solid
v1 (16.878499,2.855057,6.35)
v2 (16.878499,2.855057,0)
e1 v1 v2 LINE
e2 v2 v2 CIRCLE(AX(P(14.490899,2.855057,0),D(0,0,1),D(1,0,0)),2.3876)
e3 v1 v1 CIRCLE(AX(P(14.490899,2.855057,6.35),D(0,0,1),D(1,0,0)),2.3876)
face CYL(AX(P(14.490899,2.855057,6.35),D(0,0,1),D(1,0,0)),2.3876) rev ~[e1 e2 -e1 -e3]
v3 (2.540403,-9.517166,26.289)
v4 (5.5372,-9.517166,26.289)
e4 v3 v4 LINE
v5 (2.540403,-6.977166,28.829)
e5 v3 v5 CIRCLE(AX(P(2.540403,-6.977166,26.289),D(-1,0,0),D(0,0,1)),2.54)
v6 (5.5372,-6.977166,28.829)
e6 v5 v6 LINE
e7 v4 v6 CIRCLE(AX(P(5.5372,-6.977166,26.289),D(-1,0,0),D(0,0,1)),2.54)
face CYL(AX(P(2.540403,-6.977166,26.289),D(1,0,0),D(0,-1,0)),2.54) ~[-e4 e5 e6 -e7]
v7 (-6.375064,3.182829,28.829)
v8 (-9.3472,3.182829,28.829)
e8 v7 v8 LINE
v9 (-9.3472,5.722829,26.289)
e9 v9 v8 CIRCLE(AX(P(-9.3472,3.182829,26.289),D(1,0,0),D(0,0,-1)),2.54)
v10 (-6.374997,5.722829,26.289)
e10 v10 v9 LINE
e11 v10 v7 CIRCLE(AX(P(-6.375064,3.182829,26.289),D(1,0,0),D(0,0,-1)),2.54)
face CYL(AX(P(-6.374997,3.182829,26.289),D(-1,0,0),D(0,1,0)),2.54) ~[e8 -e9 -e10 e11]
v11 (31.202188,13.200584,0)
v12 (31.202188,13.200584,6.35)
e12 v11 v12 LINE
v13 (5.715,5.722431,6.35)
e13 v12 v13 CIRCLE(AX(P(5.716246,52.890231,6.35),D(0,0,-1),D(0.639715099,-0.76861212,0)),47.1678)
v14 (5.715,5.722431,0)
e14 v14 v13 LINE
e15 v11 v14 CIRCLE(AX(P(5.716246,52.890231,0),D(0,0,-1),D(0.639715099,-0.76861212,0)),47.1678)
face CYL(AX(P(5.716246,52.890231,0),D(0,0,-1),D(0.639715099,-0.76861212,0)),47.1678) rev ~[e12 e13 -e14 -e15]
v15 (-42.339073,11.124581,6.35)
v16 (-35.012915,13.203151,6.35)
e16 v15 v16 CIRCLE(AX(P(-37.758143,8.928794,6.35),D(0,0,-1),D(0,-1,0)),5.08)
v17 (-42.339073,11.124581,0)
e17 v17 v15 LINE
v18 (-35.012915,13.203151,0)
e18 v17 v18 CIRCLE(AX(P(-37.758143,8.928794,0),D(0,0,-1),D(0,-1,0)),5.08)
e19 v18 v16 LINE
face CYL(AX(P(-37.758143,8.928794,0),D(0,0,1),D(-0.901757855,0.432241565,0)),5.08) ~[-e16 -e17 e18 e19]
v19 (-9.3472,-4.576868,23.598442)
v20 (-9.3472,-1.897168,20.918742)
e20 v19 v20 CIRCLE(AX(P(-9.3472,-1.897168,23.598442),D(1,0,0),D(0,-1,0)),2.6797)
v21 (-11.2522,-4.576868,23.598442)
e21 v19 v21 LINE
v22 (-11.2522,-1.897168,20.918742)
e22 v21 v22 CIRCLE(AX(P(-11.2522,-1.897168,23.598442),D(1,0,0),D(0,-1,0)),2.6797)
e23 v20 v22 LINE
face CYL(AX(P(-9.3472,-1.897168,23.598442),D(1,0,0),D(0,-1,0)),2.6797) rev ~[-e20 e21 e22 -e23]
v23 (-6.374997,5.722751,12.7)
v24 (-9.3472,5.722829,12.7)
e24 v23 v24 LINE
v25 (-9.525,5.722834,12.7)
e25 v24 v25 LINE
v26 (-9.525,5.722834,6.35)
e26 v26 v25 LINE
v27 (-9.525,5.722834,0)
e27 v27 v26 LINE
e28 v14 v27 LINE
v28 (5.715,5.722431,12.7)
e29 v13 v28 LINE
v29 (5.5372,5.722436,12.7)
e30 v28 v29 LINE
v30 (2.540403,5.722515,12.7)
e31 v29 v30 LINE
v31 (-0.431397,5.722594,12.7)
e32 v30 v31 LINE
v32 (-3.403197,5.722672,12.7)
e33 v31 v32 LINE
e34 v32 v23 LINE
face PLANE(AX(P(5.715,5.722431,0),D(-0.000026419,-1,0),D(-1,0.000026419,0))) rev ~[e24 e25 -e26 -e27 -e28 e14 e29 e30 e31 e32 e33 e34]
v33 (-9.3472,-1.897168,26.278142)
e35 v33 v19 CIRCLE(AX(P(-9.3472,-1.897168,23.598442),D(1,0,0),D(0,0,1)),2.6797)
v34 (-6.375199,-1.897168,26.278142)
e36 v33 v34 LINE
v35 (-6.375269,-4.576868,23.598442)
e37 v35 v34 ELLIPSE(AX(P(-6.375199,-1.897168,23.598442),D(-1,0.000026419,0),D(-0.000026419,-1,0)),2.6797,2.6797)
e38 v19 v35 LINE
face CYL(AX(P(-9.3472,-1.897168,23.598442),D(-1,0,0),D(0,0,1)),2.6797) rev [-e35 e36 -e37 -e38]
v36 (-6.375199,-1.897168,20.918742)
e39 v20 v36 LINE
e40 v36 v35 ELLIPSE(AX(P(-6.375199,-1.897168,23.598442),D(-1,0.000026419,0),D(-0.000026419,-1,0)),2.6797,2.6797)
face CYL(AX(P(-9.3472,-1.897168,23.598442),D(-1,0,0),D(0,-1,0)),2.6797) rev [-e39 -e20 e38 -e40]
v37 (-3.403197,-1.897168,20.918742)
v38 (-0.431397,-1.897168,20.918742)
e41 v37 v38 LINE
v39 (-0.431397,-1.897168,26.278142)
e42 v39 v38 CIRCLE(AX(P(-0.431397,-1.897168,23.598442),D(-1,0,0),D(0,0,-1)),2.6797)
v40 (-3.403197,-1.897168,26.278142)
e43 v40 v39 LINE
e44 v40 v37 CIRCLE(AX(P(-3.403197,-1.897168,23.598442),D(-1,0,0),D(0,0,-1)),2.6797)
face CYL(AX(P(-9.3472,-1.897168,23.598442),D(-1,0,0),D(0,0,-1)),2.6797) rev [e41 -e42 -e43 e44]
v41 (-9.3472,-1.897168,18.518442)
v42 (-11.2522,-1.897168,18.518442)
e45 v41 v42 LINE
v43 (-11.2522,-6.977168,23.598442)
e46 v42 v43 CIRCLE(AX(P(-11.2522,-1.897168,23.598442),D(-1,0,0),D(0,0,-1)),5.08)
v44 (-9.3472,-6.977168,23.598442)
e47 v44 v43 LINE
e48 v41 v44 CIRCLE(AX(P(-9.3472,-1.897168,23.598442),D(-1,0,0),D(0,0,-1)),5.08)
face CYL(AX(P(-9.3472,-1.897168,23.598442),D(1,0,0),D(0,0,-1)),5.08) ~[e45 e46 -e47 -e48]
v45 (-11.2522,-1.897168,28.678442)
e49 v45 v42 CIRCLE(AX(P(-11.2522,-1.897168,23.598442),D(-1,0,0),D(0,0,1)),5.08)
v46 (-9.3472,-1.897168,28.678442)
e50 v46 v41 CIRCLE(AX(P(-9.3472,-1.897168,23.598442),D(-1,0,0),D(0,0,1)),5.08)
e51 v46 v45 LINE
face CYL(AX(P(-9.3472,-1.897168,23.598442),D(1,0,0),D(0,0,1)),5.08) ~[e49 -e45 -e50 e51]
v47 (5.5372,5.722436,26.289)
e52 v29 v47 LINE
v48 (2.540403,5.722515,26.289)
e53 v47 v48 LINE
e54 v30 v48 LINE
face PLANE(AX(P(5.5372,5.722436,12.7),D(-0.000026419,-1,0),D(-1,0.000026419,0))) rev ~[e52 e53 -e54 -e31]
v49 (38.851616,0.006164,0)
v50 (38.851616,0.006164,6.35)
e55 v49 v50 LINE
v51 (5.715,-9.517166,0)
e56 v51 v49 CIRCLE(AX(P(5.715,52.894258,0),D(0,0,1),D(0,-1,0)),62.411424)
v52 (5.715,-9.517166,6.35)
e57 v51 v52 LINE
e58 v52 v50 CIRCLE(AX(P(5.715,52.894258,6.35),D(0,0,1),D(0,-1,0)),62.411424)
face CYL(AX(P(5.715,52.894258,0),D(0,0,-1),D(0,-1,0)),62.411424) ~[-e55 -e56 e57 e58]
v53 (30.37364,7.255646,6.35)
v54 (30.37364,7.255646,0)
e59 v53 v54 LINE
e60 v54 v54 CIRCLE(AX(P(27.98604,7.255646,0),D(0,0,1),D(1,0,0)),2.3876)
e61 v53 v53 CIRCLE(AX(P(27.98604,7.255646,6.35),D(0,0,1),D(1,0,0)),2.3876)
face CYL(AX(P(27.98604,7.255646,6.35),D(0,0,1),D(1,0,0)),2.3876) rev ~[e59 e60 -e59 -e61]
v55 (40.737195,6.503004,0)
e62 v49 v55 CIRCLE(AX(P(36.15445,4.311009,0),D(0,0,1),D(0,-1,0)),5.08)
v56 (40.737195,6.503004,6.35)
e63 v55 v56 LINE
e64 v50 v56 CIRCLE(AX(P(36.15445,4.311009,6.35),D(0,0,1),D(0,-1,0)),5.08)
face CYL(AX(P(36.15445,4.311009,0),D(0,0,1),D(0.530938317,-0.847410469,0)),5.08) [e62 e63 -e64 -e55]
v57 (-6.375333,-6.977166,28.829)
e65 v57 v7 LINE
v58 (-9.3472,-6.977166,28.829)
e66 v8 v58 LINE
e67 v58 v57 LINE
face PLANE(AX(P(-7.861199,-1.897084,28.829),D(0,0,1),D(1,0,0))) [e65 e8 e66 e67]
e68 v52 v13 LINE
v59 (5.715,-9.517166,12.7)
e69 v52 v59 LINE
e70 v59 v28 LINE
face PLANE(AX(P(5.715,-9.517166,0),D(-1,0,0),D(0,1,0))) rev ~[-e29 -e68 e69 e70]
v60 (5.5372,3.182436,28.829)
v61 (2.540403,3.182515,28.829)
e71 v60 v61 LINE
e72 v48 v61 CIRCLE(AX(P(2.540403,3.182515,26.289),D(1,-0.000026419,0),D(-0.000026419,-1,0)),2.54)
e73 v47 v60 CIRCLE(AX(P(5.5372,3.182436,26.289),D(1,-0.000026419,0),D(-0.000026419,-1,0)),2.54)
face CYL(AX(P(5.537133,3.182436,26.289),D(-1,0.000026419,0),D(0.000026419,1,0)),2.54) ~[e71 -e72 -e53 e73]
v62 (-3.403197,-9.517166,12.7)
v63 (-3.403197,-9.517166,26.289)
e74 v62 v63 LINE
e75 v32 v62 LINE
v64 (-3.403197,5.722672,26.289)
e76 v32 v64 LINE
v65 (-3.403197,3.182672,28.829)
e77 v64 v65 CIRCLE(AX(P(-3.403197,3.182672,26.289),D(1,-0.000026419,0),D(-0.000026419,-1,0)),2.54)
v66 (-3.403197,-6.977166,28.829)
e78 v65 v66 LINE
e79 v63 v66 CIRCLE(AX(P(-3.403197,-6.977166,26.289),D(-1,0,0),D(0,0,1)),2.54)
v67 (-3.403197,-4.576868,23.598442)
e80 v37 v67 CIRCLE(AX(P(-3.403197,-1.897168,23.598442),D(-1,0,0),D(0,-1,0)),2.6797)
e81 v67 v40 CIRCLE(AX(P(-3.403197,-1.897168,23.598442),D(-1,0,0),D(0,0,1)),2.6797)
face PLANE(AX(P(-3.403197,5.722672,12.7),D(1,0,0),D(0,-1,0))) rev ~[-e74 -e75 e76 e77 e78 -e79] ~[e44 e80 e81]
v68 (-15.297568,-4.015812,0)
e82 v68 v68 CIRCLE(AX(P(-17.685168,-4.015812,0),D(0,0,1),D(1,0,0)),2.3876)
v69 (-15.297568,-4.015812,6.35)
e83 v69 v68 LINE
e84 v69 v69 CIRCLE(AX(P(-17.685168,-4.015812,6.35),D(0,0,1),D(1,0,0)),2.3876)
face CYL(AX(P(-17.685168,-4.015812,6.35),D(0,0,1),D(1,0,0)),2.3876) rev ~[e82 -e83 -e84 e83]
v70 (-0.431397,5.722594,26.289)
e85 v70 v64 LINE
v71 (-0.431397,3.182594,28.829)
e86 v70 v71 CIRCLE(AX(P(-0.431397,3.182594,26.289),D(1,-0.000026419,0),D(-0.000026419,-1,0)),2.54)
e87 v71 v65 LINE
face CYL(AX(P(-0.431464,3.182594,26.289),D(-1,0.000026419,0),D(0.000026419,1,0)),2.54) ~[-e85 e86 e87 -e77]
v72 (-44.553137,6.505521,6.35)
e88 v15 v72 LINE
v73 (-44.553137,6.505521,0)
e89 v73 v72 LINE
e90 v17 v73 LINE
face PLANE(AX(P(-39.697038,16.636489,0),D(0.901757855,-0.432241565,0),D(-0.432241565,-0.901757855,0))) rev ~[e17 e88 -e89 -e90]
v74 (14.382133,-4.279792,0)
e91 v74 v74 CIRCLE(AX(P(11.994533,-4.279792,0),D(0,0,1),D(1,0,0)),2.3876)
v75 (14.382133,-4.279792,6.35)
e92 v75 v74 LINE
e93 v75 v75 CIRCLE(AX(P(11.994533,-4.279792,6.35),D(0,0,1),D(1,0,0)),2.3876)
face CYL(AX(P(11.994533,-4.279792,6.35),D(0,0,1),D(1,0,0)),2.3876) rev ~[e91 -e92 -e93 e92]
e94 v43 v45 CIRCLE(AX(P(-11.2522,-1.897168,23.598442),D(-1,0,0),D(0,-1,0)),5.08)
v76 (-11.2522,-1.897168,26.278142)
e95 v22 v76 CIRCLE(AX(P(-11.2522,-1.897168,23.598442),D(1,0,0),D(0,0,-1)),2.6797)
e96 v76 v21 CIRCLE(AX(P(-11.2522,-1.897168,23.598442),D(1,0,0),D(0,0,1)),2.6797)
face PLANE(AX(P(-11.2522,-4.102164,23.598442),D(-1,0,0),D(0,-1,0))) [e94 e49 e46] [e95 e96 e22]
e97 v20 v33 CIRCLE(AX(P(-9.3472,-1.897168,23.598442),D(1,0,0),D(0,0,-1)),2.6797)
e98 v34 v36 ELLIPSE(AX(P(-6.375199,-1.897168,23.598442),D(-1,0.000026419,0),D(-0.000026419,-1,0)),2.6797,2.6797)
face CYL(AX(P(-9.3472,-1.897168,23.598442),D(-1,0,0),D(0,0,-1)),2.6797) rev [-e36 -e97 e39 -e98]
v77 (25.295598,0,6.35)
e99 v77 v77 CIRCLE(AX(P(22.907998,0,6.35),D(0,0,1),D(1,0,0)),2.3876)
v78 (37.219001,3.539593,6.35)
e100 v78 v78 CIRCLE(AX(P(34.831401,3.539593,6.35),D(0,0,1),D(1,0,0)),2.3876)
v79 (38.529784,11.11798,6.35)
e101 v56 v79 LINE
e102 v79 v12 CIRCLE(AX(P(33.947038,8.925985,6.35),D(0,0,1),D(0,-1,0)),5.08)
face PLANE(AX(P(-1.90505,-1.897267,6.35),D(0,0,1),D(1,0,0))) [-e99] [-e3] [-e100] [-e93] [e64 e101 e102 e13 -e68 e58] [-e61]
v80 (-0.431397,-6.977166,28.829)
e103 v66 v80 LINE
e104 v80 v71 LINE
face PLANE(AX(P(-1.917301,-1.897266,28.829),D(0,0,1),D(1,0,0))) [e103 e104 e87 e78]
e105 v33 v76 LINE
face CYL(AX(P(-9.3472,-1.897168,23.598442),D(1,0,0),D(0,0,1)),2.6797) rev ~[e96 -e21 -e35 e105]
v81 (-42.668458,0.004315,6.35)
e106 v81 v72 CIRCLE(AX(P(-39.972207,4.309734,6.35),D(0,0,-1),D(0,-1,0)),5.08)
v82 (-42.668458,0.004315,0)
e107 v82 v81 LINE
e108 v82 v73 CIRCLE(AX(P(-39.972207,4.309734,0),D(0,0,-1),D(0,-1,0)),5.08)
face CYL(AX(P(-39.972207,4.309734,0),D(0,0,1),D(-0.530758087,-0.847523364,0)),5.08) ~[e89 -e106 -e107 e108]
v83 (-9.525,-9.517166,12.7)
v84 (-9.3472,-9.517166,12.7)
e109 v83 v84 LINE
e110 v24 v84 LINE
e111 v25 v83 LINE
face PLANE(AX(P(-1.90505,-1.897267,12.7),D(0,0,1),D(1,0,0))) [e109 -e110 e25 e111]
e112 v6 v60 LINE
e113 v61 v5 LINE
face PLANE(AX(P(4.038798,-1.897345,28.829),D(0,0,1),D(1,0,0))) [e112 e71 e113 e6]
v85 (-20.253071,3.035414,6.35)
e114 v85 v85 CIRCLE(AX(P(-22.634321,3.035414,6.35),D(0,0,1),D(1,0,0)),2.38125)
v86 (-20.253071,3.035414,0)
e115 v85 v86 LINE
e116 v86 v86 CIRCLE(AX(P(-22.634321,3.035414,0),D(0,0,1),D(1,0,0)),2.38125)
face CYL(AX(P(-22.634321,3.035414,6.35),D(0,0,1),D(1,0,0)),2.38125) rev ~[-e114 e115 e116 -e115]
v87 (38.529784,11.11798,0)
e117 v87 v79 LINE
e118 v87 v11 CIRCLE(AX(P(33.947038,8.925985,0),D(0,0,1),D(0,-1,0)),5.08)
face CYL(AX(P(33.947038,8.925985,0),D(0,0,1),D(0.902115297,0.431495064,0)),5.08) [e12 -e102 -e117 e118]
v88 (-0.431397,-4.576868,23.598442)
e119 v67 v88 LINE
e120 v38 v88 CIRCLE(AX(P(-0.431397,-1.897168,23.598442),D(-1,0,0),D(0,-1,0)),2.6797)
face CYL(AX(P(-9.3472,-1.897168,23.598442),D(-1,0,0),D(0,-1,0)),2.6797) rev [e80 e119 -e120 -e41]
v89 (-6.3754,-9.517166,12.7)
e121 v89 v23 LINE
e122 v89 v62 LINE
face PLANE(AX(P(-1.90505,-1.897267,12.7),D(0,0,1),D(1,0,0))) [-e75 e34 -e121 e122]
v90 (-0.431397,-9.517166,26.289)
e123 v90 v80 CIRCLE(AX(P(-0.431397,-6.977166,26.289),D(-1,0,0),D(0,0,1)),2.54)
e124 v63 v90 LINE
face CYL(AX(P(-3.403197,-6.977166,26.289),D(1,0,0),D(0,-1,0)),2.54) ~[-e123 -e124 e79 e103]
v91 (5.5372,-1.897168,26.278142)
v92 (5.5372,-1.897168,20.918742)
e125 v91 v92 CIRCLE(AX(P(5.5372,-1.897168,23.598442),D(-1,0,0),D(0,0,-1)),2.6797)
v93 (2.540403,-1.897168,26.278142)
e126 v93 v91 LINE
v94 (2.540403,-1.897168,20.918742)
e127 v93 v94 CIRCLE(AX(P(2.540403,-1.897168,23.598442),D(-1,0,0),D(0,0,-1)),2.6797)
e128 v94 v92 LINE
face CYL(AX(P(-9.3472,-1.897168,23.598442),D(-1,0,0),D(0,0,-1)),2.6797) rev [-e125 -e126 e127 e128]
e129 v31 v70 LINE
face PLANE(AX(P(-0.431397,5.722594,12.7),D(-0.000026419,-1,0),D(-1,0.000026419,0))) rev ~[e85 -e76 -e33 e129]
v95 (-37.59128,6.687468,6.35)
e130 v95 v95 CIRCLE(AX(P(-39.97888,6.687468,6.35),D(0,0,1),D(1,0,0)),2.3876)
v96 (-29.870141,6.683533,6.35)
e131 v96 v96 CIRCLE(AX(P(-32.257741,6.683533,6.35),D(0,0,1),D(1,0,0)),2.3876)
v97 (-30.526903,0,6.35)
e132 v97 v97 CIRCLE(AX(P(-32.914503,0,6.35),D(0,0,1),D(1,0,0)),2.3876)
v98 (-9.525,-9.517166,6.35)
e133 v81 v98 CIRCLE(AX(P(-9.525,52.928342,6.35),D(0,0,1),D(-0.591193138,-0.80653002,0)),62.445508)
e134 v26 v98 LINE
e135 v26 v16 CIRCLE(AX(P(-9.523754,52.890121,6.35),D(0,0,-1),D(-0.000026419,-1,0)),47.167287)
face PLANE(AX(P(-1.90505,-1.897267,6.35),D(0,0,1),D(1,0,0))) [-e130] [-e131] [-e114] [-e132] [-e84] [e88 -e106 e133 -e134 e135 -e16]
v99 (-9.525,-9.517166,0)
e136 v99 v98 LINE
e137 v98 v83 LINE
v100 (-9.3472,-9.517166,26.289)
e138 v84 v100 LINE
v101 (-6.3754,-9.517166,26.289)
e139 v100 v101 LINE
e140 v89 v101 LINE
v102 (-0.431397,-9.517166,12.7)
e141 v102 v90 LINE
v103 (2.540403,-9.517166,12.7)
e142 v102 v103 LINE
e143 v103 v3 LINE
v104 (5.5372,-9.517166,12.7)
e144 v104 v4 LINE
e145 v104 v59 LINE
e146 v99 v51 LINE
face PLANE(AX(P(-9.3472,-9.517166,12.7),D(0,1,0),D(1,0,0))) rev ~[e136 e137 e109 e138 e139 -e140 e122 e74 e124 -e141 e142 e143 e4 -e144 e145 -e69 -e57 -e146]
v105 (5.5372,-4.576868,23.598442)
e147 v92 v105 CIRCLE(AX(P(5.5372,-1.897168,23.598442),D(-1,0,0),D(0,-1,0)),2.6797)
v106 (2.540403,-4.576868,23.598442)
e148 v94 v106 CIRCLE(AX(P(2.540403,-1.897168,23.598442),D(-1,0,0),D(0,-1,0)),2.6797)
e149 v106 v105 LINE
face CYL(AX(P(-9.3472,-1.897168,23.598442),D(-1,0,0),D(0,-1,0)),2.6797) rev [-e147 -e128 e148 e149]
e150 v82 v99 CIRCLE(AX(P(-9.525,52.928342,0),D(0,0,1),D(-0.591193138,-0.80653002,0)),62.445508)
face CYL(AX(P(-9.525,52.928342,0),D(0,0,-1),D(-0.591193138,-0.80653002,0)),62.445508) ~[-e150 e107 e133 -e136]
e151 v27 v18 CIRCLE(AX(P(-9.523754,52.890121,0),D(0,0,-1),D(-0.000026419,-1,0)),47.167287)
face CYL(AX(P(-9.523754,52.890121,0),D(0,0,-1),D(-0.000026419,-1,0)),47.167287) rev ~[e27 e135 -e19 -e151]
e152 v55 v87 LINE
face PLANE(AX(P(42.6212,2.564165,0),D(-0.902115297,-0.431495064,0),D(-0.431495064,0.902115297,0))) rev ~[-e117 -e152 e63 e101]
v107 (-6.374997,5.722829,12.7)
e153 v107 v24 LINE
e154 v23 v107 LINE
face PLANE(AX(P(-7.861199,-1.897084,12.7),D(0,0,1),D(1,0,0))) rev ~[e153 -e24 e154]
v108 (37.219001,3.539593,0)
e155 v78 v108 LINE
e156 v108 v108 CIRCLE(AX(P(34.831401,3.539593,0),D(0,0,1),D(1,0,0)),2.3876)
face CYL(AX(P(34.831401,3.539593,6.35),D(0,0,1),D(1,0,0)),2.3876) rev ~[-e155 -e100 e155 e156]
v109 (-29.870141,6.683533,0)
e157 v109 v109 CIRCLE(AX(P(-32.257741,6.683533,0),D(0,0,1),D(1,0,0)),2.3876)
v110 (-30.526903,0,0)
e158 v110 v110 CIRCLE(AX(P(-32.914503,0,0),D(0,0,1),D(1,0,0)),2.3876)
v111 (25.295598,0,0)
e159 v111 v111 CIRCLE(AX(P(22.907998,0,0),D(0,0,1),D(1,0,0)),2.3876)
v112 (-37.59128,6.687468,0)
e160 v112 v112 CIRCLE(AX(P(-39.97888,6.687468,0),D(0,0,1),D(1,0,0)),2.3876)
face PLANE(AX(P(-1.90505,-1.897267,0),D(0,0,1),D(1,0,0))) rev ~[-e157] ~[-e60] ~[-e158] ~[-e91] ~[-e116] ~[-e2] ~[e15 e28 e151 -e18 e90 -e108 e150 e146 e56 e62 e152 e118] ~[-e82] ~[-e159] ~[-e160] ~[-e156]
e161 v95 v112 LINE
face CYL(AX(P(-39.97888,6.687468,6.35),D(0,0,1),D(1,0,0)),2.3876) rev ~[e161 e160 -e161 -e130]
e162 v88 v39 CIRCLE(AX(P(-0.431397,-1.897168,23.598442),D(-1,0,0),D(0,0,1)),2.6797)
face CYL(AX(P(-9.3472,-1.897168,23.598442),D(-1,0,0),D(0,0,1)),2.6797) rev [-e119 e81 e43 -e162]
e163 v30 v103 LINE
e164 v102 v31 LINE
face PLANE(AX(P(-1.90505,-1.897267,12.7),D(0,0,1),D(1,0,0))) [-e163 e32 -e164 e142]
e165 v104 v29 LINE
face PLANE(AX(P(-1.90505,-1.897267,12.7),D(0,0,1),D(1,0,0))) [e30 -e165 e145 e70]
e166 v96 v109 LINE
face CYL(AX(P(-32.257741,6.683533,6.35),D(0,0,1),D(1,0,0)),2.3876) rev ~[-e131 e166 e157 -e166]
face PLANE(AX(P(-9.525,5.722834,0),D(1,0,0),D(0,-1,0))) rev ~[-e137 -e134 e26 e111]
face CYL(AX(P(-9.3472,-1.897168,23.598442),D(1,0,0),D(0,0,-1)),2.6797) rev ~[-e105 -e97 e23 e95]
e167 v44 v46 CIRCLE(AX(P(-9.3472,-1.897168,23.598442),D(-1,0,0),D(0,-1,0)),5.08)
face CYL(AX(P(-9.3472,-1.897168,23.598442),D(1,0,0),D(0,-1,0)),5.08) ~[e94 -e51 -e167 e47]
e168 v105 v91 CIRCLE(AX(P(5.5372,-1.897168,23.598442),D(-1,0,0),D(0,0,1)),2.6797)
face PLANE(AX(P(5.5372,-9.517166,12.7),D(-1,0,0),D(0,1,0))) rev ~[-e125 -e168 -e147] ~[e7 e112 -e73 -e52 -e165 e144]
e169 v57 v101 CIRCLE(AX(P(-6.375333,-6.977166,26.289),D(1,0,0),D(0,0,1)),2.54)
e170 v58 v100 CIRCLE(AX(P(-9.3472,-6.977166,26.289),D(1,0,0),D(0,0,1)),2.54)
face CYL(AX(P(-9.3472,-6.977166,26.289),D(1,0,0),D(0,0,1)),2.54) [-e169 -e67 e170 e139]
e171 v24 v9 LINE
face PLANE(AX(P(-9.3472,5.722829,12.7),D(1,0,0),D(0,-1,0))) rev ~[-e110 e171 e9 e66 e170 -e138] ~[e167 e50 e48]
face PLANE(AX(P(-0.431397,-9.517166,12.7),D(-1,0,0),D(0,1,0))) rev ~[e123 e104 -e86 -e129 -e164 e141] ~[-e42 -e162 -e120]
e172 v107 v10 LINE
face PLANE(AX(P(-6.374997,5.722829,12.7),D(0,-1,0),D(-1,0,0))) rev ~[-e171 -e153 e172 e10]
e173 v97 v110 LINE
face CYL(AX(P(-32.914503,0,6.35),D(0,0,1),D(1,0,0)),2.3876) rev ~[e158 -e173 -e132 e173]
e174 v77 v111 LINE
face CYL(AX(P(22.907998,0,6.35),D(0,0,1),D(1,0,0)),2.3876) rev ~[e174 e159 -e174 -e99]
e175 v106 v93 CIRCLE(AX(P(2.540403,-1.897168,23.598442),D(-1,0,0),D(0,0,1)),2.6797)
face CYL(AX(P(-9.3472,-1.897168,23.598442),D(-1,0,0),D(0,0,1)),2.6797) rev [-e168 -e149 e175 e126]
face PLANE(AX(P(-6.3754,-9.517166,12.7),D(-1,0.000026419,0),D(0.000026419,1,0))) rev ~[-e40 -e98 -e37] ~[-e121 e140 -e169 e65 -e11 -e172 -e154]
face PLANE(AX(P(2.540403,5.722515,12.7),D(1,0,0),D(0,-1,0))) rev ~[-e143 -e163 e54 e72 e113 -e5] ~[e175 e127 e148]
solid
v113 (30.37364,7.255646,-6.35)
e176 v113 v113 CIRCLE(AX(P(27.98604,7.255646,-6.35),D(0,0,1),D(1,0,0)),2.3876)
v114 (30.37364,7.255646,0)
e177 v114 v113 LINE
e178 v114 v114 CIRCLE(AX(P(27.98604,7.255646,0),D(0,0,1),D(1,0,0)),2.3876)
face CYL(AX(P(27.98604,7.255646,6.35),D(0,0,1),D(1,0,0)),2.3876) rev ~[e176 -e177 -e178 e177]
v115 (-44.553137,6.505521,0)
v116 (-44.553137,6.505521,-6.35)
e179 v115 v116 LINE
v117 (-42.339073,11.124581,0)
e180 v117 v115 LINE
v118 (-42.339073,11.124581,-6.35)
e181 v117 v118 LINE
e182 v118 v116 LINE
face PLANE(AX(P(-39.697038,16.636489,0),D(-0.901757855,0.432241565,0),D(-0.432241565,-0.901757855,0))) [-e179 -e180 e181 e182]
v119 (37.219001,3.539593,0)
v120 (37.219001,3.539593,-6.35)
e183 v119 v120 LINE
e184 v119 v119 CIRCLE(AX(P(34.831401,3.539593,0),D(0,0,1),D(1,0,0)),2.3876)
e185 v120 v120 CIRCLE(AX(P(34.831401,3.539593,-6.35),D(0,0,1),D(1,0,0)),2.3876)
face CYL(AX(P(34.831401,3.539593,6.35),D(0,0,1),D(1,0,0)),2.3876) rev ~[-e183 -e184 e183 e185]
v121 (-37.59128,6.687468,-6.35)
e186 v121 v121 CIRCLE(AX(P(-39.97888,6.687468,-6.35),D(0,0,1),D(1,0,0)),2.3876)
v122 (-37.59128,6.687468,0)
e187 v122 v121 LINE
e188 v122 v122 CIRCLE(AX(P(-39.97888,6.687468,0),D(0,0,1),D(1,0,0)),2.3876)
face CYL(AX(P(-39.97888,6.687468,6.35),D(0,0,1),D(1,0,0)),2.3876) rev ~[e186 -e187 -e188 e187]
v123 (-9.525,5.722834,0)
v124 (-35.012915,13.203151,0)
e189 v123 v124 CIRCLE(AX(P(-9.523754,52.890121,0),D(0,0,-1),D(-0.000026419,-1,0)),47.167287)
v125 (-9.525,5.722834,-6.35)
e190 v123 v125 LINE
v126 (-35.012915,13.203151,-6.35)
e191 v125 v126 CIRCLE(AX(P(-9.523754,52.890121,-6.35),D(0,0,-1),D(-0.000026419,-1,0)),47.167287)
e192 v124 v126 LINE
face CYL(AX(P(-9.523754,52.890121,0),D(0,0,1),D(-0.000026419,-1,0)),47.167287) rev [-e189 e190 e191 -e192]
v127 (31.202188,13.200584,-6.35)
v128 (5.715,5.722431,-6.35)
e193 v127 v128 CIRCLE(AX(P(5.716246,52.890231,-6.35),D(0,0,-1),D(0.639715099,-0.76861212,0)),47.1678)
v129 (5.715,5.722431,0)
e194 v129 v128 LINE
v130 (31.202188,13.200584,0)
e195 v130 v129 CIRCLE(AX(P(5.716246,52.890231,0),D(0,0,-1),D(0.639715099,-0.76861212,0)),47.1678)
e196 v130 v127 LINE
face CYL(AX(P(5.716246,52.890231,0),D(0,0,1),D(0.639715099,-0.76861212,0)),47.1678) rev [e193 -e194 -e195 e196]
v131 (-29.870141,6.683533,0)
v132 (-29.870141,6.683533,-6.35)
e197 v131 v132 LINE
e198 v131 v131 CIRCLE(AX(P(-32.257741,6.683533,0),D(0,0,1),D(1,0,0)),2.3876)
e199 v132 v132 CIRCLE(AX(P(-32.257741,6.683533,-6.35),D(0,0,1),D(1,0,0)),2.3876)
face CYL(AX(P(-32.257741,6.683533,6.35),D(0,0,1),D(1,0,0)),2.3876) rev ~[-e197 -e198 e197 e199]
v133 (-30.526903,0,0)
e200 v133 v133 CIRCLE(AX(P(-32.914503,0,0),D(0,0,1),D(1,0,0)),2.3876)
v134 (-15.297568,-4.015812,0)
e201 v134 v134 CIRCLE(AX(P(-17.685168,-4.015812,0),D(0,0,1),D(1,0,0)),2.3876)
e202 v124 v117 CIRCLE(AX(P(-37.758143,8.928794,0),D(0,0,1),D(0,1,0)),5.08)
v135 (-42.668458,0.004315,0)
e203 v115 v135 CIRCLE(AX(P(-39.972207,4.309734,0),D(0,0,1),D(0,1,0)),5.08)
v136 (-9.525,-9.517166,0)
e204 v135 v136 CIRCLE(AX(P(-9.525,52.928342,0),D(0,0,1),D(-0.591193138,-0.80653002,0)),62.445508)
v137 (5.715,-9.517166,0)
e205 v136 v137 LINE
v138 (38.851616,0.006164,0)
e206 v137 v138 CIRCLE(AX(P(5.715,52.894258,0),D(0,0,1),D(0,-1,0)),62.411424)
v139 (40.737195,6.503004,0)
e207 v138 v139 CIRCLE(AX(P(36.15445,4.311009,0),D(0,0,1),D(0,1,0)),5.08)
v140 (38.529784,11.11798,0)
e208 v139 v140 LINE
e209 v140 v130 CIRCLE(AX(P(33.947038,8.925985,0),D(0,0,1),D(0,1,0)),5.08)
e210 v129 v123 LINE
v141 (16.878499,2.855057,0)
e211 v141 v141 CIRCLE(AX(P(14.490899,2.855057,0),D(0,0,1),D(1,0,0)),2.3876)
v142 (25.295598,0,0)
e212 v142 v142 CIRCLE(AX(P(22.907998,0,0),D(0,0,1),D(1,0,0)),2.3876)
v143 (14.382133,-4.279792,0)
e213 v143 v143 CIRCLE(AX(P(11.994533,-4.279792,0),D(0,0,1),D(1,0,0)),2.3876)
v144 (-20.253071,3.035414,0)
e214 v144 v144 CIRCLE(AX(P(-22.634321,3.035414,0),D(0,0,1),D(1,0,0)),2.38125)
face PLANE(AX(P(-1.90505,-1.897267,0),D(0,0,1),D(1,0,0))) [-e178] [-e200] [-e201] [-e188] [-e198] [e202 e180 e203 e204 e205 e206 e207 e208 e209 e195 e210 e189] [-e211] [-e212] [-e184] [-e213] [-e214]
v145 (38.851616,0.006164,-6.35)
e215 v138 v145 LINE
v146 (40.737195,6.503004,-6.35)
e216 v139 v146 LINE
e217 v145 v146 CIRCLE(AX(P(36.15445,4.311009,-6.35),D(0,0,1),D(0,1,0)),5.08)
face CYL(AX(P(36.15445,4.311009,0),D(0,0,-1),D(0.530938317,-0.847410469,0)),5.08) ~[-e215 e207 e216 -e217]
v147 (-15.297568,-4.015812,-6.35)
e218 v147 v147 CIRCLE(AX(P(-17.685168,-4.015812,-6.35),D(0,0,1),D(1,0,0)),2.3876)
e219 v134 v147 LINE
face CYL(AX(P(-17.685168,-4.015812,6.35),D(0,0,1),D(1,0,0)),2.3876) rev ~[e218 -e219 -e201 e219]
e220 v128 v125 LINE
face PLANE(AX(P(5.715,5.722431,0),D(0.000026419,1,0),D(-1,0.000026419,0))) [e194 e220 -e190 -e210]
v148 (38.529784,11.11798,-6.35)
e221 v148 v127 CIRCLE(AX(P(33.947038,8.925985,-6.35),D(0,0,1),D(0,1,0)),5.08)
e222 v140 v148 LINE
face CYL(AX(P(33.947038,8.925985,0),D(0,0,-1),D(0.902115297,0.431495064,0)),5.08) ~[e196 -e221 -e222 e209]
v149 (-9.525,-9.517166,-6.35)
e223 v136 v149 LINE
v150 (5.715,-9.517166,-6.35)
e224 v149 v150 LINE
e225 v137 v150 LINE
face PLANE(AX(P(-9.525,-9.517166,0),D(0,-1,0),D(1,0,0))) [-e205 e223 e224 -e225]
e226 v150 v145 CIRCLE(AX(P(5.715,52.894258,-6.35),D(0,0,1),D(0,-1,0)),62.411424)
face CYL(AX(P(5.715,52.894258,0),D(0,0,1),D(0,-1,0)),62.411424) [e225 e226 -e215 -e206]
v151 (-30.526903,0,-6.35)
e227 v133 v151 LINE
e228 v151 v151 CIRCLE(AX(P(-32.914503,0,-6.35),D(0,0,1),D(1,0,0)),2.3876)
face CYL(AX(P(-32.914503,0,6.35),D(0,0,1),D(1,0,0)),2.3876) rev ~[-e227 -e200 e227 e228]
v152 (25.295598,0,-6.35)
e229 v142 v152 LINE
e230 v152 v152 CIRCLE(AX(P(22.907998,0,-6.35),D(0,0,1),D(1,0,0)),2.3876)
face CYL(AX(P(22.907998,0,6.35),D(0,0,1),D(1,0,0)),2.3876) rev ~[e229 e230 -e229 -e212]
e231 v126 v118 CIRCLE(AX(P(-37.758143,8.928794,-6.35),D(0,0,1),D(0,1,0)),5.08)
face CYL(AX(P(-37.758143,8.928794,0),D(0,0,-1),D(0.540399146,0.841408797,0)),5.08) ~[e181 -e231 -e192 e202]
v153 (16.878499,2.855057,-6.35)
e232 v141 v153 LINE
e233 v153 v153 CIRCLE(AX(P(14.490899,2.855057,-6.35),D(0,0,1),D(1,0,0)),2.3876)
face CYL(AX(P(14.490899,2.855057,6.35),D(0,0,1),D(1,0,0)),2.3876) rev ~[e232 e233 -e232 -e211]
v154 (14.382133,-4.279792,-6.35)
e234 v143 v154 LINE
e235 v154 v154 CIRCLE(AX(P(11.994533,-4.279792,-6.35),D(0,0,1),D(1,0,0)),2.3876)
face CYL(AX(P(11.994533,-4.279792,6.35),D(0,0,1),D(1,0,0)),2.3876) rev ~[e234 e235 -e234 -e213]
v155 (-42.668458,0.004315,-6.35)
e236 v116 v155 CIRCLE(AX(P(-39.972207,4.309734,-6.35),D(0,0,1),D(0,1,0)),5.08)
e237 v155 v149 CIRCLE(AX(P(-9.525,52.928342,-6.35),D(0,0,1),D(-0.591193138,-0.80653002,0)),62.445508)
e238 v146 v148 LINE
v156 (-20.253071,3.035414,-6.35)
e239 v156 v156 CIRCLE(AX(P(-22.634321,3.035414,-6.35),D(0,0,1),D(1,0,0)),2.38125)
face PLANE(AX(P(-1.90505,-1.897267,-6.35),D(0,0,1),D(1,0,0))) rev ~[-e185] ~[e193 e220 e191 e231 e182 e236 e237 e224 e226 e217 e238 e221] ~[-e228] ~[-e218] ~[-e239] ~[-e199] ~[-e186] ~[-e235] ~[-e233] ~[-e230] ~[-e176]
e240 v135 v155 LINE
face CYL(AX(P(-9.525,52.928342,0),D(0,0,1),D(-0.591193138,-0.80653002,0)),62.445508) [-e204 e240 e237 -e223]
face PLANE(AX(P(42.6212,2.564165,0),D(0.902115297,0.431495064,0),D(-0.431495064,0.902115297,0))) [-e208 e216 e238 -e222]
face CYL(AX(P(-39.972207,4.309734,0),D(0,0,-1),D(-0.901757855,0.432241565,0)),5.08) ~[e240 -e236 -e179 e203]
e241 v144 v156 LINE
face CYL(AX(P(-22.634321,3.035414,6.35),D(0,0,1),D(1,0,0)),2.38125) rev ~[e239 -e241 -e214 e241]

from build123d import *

# Parameters (mm, degrees)
F1_DEPTH  = 12.7
F2_DEPTH  = 6.35
F3_R      = 5.08
F5_DEPTH  = 16.129
F6_R      = 2.54
F8_DEPTH  = 1.905
F9_DEPTH  = 25.4
F10_DEPTH = 6.35
F11_R     = 5.08
F12_R     = 2.3876
F12_R_2   = 2.38125
F13_DEPTH = 25.4


with BuildPart() as f1:
    # F0 (on Top) → F1 (new body)
    with BuildSketch(Plane.XY):
        Polygon((-9.5249999947, -9.5171659061), (5.7150000053, -9.5171659061), (5.715, 5.7224314644), (-9.5249999947, 5.7228340939), align=None)
    extrude(amount=F1_DEPTH)

    # F0 (on Top) → F2 (join)
    with BuildSketch(Plane.XY):
        Polygon((-9.5249999947, -9.5171659061), (5.7150000053, -9.5171659061), (5.715, 5.7224314644), (-9.5249999947, 5.7228340939), align=None)
        with BuildLine():
            Line((5.715, 5.7224314644), (5.7150000053, -9.5171659061))
            ThreePointArc((5.7150000053, -9.5171659061), (25.1316562711, -6.4199838977), (42.6212000011, 2.5641653136))
            Line((42.6212000011, 2.5641653136), (35.8902, 16.6364886732))
            ThreePointArc((35.8902, 16.6364886732), (21.759226972, 8.5345765345), (5.715, 5.7224314644))
        make_face()
        with BuildLine():
            ThreePointArc((-46.4423559262, 2.5641652954), (-28.946957495, -6.420028038), (-9.5249999947, -9.5171659061))
            Line((-9.5249999947, -9.5171659061), (-9.5249999947, 5.7228340939))
            ThreePointArc((-9.5249999947, 5.7228340939), (-25.5675233424, 8.5352969483), (-39.6970383838, 16.6364886732))
            Line((-39.6970383838, 16.6364886732), (-46.4423559262, 2.5641652954))
        make_face()
    extrude(amount=F2_DEPTH)

    # F3
    f3_edges = [f1.edges().sort_by_distance(p)[0] for p in [
        (42.6212, 2.564165, 3.175),
        (35.8902, 16.636489, 3.175),
        (-46.442356, 2.564165, 3.175),
        (-39.697038, 16.636489, 3.175),
    ]]
    fillet(f3_edges, radius=F3_R)

    # F4 (on face) → F5 (join)
    with BuildSketch(Plane.XY.offset(12.7)):
        Polygon((-6.3749973654, 5.7228293965), (-9.3471999947, 5.7228293965), (-9.3471999947, -9.5171659061), (-6.3753999947, -9.5171659061), align=None)
        Polygon((-0.4313973706, 5.7225938477), (-3.4031973696, 5.7226723604), (-3.4031973696, -9.5171659061), (-0.4313973706, -9.5171659061), align=None)
        Polygon((5.5372, 5.7224361618), (2.5404026283, 5.7225153349), (2.5404026283, -9.5171659061), (5.5372000054, -9.5171659061), align=None)
    extrude(amount=F5_DEPTH)

    # F6
    f6_edges = [f1.edges().sort_by_distance(p)[0] for p in [
        (-7.8613, -9.517166, 28.829),
        (-1.917297, -9.517166, 28.829),
        (4.038801, -9.517166, 28.829),
        (-7.861099, 5.722829, 28.829),
        (-1.917297, 5.722633, 28.829),
        (4.038801, 5.722476, 28.829),
    ]]
    fillet(f6_edges, radius=F6_R)

    # F7 (on face) → F8 (join)
    with BuildSketch(Plane(origin=(-9.3471999947, 0, 0), x_dir=(0, -1, 0), z_dir=(-1, 0, 0))):
        with BuildLine():
            ThreePointArc((6.9771682551, 23.5984418541), (5.4892707036, 27.1905443025), (1.8971682553, 28.6784418541))
            Line((1.8971682553, 28.6784418541), (1.8971682552, 26.2781418541))
            ThreePointArc((1.8971682552, 26.2781418541), (3.7920022967, 25.4932758956), (4.5768682551, 23.5984418541))
            ThreePointArc((4.5768682551, 23.5984418541), (3.7920022966, 21.7036078125), (1.897168255, 20.9187418541))
            Line((1.897168255, 20.9187418541), (1.897168255, 18.5184418541))
            ThreePointArc((1.897168255, 18.5184418541), (5.4892707035, 20.0063394056), (6.9771682551, 23.5984418541))
        make_face()
        with BuildLine():
            Line((1.8971682552, 26.2781418541), (1.8971682553, 28.6784418541))
            ThreePointArc((1.8971682553, 28.6784418541), (-3.1828317449, 23.5984418543), (1.897168255, 18.5184418541))
            Line((1.897168255, 18.5184418541), (1.897168255, 20.9187418541))
            ThreePointArc((1.897168255, 20.9187418541), (-0.7825317449, 23.5984418542), (1.8971682552, 26.2781418541))
        make_face()
    extrude(amount=F8_DEPTH)

    # F9 (cut): a face of the model
    f9_faces = [f1.faces().sort_by_distance(p)[0] for p in [
        (-9.3471999947, -1.8971682551, 23.5984418541),
    ]]
    extrude(f9_faces, amount=-F9_DEPTH, mode=Mode.SUBTRACT)


with BuildPart() as f10:
    # F0 (on Top) → F10 (new body)
    with BuildSketch(Plane.XY):
        Polygon((-9.5249999947, -9.5171659061), (5.7150000053, -9.5171659061), (5.715, 5.7224314644), (-9.5249999947, 5.7228340939), align=None)
        with BuildLine():
            ThreePointArc((-46.4423559262, 2.5641652954), (-28.946957495, -6.420028038), (-9.5249999947, -9.5171659061))
            Line((-9.5249999947, -9.5171659061), (-9.5249999947, 5.7228340939))
            ThreePointArc((-9.5249999947, 5.7228340939), (-25.5675233424, 8.5352969483), (-39.6970383838, 16.6364886732))
            Line((-39.6970383838, 16.6364886732), (-46.4423559262, 2.5641652954))
        make_face()
        with BuildLine():
            Line((5.715, 5.7224314644), (5.7150000053, -9.5171659061))
            ThreePointArc((5.7150000053, -9.5171659061), (25.1316562711, -6.4199838977), (42.6212000011, 2.5641653136))
            Line((42.6212000011, 2.5641653136), (35.8902, 16.6364886732))
            ThreePointArc((35.8902, 16.6364886732), (21.759226972, 8.5345765345), (5.715, 5.7224314644))
        make_face()
    extrude(amount=-F10_DEPTH)

    # F11
    f11_edges = [f10.edges().sort_by_distance(p)[0] for p in [
        (-46.442356, 2.564165, -3.175),
        (42.6212, 2.564165, -3.175),
        (35.8902, 16.636489, -3.175),
        (-39.697038, 16.636489, -3.175),
    ]]
    fillet(f11_edges, radius=F11_R)


with BuildPart() as f13_tool:
    # F12 (on face) → F13 (new body)
    with BuildSketch(Plane.XY.offset(6.35)):
        with Locations((-39.9788804352, 6.6874679178)):
            Circle(F12_R)
        with Locations((-32.2577409587, 6.683533058)):
            Circle(F12_R)
        with Locations((-32.9145033596, 0)):
            Circle(F12_R)
        with Locations((-22.6343214557, 3.0354140584)):
            Circle(F12_R_2)
        with Locations((-17.6851684754, -4.0158115783)):
            Circle(F12_R)
        with Locations((11.9945333312, -4.2797915162)):
            Circle(F12_R)
        with Locations((14.4908986986, 2.855056664)):
            Circle(F12_R)
        with Locations((22.90799764, 0)):
            Circle(F12_R)
        with Locations((27.9860403389, 7.2556459345)):
            Circle(F12_R)
        with Locations((34.8314009607, 3.5395927262)):
            Circle(F12_R)
    extrude(amount=-F13_DEPTH)


with BuildPart() as f1_1:
    add(f1.part)

    # F13: cut by f13_tool
    add(f13_tool.part, mode=Mode.SUBTRACT)


with BuildPart() as f10_1:
    add(f10.part)

    # F13: cut by f13_tool
    add(f13_tool.part, mode=Mode.SUBTRACT)


solid = Compound([f1_1.part, f10_1.part])
